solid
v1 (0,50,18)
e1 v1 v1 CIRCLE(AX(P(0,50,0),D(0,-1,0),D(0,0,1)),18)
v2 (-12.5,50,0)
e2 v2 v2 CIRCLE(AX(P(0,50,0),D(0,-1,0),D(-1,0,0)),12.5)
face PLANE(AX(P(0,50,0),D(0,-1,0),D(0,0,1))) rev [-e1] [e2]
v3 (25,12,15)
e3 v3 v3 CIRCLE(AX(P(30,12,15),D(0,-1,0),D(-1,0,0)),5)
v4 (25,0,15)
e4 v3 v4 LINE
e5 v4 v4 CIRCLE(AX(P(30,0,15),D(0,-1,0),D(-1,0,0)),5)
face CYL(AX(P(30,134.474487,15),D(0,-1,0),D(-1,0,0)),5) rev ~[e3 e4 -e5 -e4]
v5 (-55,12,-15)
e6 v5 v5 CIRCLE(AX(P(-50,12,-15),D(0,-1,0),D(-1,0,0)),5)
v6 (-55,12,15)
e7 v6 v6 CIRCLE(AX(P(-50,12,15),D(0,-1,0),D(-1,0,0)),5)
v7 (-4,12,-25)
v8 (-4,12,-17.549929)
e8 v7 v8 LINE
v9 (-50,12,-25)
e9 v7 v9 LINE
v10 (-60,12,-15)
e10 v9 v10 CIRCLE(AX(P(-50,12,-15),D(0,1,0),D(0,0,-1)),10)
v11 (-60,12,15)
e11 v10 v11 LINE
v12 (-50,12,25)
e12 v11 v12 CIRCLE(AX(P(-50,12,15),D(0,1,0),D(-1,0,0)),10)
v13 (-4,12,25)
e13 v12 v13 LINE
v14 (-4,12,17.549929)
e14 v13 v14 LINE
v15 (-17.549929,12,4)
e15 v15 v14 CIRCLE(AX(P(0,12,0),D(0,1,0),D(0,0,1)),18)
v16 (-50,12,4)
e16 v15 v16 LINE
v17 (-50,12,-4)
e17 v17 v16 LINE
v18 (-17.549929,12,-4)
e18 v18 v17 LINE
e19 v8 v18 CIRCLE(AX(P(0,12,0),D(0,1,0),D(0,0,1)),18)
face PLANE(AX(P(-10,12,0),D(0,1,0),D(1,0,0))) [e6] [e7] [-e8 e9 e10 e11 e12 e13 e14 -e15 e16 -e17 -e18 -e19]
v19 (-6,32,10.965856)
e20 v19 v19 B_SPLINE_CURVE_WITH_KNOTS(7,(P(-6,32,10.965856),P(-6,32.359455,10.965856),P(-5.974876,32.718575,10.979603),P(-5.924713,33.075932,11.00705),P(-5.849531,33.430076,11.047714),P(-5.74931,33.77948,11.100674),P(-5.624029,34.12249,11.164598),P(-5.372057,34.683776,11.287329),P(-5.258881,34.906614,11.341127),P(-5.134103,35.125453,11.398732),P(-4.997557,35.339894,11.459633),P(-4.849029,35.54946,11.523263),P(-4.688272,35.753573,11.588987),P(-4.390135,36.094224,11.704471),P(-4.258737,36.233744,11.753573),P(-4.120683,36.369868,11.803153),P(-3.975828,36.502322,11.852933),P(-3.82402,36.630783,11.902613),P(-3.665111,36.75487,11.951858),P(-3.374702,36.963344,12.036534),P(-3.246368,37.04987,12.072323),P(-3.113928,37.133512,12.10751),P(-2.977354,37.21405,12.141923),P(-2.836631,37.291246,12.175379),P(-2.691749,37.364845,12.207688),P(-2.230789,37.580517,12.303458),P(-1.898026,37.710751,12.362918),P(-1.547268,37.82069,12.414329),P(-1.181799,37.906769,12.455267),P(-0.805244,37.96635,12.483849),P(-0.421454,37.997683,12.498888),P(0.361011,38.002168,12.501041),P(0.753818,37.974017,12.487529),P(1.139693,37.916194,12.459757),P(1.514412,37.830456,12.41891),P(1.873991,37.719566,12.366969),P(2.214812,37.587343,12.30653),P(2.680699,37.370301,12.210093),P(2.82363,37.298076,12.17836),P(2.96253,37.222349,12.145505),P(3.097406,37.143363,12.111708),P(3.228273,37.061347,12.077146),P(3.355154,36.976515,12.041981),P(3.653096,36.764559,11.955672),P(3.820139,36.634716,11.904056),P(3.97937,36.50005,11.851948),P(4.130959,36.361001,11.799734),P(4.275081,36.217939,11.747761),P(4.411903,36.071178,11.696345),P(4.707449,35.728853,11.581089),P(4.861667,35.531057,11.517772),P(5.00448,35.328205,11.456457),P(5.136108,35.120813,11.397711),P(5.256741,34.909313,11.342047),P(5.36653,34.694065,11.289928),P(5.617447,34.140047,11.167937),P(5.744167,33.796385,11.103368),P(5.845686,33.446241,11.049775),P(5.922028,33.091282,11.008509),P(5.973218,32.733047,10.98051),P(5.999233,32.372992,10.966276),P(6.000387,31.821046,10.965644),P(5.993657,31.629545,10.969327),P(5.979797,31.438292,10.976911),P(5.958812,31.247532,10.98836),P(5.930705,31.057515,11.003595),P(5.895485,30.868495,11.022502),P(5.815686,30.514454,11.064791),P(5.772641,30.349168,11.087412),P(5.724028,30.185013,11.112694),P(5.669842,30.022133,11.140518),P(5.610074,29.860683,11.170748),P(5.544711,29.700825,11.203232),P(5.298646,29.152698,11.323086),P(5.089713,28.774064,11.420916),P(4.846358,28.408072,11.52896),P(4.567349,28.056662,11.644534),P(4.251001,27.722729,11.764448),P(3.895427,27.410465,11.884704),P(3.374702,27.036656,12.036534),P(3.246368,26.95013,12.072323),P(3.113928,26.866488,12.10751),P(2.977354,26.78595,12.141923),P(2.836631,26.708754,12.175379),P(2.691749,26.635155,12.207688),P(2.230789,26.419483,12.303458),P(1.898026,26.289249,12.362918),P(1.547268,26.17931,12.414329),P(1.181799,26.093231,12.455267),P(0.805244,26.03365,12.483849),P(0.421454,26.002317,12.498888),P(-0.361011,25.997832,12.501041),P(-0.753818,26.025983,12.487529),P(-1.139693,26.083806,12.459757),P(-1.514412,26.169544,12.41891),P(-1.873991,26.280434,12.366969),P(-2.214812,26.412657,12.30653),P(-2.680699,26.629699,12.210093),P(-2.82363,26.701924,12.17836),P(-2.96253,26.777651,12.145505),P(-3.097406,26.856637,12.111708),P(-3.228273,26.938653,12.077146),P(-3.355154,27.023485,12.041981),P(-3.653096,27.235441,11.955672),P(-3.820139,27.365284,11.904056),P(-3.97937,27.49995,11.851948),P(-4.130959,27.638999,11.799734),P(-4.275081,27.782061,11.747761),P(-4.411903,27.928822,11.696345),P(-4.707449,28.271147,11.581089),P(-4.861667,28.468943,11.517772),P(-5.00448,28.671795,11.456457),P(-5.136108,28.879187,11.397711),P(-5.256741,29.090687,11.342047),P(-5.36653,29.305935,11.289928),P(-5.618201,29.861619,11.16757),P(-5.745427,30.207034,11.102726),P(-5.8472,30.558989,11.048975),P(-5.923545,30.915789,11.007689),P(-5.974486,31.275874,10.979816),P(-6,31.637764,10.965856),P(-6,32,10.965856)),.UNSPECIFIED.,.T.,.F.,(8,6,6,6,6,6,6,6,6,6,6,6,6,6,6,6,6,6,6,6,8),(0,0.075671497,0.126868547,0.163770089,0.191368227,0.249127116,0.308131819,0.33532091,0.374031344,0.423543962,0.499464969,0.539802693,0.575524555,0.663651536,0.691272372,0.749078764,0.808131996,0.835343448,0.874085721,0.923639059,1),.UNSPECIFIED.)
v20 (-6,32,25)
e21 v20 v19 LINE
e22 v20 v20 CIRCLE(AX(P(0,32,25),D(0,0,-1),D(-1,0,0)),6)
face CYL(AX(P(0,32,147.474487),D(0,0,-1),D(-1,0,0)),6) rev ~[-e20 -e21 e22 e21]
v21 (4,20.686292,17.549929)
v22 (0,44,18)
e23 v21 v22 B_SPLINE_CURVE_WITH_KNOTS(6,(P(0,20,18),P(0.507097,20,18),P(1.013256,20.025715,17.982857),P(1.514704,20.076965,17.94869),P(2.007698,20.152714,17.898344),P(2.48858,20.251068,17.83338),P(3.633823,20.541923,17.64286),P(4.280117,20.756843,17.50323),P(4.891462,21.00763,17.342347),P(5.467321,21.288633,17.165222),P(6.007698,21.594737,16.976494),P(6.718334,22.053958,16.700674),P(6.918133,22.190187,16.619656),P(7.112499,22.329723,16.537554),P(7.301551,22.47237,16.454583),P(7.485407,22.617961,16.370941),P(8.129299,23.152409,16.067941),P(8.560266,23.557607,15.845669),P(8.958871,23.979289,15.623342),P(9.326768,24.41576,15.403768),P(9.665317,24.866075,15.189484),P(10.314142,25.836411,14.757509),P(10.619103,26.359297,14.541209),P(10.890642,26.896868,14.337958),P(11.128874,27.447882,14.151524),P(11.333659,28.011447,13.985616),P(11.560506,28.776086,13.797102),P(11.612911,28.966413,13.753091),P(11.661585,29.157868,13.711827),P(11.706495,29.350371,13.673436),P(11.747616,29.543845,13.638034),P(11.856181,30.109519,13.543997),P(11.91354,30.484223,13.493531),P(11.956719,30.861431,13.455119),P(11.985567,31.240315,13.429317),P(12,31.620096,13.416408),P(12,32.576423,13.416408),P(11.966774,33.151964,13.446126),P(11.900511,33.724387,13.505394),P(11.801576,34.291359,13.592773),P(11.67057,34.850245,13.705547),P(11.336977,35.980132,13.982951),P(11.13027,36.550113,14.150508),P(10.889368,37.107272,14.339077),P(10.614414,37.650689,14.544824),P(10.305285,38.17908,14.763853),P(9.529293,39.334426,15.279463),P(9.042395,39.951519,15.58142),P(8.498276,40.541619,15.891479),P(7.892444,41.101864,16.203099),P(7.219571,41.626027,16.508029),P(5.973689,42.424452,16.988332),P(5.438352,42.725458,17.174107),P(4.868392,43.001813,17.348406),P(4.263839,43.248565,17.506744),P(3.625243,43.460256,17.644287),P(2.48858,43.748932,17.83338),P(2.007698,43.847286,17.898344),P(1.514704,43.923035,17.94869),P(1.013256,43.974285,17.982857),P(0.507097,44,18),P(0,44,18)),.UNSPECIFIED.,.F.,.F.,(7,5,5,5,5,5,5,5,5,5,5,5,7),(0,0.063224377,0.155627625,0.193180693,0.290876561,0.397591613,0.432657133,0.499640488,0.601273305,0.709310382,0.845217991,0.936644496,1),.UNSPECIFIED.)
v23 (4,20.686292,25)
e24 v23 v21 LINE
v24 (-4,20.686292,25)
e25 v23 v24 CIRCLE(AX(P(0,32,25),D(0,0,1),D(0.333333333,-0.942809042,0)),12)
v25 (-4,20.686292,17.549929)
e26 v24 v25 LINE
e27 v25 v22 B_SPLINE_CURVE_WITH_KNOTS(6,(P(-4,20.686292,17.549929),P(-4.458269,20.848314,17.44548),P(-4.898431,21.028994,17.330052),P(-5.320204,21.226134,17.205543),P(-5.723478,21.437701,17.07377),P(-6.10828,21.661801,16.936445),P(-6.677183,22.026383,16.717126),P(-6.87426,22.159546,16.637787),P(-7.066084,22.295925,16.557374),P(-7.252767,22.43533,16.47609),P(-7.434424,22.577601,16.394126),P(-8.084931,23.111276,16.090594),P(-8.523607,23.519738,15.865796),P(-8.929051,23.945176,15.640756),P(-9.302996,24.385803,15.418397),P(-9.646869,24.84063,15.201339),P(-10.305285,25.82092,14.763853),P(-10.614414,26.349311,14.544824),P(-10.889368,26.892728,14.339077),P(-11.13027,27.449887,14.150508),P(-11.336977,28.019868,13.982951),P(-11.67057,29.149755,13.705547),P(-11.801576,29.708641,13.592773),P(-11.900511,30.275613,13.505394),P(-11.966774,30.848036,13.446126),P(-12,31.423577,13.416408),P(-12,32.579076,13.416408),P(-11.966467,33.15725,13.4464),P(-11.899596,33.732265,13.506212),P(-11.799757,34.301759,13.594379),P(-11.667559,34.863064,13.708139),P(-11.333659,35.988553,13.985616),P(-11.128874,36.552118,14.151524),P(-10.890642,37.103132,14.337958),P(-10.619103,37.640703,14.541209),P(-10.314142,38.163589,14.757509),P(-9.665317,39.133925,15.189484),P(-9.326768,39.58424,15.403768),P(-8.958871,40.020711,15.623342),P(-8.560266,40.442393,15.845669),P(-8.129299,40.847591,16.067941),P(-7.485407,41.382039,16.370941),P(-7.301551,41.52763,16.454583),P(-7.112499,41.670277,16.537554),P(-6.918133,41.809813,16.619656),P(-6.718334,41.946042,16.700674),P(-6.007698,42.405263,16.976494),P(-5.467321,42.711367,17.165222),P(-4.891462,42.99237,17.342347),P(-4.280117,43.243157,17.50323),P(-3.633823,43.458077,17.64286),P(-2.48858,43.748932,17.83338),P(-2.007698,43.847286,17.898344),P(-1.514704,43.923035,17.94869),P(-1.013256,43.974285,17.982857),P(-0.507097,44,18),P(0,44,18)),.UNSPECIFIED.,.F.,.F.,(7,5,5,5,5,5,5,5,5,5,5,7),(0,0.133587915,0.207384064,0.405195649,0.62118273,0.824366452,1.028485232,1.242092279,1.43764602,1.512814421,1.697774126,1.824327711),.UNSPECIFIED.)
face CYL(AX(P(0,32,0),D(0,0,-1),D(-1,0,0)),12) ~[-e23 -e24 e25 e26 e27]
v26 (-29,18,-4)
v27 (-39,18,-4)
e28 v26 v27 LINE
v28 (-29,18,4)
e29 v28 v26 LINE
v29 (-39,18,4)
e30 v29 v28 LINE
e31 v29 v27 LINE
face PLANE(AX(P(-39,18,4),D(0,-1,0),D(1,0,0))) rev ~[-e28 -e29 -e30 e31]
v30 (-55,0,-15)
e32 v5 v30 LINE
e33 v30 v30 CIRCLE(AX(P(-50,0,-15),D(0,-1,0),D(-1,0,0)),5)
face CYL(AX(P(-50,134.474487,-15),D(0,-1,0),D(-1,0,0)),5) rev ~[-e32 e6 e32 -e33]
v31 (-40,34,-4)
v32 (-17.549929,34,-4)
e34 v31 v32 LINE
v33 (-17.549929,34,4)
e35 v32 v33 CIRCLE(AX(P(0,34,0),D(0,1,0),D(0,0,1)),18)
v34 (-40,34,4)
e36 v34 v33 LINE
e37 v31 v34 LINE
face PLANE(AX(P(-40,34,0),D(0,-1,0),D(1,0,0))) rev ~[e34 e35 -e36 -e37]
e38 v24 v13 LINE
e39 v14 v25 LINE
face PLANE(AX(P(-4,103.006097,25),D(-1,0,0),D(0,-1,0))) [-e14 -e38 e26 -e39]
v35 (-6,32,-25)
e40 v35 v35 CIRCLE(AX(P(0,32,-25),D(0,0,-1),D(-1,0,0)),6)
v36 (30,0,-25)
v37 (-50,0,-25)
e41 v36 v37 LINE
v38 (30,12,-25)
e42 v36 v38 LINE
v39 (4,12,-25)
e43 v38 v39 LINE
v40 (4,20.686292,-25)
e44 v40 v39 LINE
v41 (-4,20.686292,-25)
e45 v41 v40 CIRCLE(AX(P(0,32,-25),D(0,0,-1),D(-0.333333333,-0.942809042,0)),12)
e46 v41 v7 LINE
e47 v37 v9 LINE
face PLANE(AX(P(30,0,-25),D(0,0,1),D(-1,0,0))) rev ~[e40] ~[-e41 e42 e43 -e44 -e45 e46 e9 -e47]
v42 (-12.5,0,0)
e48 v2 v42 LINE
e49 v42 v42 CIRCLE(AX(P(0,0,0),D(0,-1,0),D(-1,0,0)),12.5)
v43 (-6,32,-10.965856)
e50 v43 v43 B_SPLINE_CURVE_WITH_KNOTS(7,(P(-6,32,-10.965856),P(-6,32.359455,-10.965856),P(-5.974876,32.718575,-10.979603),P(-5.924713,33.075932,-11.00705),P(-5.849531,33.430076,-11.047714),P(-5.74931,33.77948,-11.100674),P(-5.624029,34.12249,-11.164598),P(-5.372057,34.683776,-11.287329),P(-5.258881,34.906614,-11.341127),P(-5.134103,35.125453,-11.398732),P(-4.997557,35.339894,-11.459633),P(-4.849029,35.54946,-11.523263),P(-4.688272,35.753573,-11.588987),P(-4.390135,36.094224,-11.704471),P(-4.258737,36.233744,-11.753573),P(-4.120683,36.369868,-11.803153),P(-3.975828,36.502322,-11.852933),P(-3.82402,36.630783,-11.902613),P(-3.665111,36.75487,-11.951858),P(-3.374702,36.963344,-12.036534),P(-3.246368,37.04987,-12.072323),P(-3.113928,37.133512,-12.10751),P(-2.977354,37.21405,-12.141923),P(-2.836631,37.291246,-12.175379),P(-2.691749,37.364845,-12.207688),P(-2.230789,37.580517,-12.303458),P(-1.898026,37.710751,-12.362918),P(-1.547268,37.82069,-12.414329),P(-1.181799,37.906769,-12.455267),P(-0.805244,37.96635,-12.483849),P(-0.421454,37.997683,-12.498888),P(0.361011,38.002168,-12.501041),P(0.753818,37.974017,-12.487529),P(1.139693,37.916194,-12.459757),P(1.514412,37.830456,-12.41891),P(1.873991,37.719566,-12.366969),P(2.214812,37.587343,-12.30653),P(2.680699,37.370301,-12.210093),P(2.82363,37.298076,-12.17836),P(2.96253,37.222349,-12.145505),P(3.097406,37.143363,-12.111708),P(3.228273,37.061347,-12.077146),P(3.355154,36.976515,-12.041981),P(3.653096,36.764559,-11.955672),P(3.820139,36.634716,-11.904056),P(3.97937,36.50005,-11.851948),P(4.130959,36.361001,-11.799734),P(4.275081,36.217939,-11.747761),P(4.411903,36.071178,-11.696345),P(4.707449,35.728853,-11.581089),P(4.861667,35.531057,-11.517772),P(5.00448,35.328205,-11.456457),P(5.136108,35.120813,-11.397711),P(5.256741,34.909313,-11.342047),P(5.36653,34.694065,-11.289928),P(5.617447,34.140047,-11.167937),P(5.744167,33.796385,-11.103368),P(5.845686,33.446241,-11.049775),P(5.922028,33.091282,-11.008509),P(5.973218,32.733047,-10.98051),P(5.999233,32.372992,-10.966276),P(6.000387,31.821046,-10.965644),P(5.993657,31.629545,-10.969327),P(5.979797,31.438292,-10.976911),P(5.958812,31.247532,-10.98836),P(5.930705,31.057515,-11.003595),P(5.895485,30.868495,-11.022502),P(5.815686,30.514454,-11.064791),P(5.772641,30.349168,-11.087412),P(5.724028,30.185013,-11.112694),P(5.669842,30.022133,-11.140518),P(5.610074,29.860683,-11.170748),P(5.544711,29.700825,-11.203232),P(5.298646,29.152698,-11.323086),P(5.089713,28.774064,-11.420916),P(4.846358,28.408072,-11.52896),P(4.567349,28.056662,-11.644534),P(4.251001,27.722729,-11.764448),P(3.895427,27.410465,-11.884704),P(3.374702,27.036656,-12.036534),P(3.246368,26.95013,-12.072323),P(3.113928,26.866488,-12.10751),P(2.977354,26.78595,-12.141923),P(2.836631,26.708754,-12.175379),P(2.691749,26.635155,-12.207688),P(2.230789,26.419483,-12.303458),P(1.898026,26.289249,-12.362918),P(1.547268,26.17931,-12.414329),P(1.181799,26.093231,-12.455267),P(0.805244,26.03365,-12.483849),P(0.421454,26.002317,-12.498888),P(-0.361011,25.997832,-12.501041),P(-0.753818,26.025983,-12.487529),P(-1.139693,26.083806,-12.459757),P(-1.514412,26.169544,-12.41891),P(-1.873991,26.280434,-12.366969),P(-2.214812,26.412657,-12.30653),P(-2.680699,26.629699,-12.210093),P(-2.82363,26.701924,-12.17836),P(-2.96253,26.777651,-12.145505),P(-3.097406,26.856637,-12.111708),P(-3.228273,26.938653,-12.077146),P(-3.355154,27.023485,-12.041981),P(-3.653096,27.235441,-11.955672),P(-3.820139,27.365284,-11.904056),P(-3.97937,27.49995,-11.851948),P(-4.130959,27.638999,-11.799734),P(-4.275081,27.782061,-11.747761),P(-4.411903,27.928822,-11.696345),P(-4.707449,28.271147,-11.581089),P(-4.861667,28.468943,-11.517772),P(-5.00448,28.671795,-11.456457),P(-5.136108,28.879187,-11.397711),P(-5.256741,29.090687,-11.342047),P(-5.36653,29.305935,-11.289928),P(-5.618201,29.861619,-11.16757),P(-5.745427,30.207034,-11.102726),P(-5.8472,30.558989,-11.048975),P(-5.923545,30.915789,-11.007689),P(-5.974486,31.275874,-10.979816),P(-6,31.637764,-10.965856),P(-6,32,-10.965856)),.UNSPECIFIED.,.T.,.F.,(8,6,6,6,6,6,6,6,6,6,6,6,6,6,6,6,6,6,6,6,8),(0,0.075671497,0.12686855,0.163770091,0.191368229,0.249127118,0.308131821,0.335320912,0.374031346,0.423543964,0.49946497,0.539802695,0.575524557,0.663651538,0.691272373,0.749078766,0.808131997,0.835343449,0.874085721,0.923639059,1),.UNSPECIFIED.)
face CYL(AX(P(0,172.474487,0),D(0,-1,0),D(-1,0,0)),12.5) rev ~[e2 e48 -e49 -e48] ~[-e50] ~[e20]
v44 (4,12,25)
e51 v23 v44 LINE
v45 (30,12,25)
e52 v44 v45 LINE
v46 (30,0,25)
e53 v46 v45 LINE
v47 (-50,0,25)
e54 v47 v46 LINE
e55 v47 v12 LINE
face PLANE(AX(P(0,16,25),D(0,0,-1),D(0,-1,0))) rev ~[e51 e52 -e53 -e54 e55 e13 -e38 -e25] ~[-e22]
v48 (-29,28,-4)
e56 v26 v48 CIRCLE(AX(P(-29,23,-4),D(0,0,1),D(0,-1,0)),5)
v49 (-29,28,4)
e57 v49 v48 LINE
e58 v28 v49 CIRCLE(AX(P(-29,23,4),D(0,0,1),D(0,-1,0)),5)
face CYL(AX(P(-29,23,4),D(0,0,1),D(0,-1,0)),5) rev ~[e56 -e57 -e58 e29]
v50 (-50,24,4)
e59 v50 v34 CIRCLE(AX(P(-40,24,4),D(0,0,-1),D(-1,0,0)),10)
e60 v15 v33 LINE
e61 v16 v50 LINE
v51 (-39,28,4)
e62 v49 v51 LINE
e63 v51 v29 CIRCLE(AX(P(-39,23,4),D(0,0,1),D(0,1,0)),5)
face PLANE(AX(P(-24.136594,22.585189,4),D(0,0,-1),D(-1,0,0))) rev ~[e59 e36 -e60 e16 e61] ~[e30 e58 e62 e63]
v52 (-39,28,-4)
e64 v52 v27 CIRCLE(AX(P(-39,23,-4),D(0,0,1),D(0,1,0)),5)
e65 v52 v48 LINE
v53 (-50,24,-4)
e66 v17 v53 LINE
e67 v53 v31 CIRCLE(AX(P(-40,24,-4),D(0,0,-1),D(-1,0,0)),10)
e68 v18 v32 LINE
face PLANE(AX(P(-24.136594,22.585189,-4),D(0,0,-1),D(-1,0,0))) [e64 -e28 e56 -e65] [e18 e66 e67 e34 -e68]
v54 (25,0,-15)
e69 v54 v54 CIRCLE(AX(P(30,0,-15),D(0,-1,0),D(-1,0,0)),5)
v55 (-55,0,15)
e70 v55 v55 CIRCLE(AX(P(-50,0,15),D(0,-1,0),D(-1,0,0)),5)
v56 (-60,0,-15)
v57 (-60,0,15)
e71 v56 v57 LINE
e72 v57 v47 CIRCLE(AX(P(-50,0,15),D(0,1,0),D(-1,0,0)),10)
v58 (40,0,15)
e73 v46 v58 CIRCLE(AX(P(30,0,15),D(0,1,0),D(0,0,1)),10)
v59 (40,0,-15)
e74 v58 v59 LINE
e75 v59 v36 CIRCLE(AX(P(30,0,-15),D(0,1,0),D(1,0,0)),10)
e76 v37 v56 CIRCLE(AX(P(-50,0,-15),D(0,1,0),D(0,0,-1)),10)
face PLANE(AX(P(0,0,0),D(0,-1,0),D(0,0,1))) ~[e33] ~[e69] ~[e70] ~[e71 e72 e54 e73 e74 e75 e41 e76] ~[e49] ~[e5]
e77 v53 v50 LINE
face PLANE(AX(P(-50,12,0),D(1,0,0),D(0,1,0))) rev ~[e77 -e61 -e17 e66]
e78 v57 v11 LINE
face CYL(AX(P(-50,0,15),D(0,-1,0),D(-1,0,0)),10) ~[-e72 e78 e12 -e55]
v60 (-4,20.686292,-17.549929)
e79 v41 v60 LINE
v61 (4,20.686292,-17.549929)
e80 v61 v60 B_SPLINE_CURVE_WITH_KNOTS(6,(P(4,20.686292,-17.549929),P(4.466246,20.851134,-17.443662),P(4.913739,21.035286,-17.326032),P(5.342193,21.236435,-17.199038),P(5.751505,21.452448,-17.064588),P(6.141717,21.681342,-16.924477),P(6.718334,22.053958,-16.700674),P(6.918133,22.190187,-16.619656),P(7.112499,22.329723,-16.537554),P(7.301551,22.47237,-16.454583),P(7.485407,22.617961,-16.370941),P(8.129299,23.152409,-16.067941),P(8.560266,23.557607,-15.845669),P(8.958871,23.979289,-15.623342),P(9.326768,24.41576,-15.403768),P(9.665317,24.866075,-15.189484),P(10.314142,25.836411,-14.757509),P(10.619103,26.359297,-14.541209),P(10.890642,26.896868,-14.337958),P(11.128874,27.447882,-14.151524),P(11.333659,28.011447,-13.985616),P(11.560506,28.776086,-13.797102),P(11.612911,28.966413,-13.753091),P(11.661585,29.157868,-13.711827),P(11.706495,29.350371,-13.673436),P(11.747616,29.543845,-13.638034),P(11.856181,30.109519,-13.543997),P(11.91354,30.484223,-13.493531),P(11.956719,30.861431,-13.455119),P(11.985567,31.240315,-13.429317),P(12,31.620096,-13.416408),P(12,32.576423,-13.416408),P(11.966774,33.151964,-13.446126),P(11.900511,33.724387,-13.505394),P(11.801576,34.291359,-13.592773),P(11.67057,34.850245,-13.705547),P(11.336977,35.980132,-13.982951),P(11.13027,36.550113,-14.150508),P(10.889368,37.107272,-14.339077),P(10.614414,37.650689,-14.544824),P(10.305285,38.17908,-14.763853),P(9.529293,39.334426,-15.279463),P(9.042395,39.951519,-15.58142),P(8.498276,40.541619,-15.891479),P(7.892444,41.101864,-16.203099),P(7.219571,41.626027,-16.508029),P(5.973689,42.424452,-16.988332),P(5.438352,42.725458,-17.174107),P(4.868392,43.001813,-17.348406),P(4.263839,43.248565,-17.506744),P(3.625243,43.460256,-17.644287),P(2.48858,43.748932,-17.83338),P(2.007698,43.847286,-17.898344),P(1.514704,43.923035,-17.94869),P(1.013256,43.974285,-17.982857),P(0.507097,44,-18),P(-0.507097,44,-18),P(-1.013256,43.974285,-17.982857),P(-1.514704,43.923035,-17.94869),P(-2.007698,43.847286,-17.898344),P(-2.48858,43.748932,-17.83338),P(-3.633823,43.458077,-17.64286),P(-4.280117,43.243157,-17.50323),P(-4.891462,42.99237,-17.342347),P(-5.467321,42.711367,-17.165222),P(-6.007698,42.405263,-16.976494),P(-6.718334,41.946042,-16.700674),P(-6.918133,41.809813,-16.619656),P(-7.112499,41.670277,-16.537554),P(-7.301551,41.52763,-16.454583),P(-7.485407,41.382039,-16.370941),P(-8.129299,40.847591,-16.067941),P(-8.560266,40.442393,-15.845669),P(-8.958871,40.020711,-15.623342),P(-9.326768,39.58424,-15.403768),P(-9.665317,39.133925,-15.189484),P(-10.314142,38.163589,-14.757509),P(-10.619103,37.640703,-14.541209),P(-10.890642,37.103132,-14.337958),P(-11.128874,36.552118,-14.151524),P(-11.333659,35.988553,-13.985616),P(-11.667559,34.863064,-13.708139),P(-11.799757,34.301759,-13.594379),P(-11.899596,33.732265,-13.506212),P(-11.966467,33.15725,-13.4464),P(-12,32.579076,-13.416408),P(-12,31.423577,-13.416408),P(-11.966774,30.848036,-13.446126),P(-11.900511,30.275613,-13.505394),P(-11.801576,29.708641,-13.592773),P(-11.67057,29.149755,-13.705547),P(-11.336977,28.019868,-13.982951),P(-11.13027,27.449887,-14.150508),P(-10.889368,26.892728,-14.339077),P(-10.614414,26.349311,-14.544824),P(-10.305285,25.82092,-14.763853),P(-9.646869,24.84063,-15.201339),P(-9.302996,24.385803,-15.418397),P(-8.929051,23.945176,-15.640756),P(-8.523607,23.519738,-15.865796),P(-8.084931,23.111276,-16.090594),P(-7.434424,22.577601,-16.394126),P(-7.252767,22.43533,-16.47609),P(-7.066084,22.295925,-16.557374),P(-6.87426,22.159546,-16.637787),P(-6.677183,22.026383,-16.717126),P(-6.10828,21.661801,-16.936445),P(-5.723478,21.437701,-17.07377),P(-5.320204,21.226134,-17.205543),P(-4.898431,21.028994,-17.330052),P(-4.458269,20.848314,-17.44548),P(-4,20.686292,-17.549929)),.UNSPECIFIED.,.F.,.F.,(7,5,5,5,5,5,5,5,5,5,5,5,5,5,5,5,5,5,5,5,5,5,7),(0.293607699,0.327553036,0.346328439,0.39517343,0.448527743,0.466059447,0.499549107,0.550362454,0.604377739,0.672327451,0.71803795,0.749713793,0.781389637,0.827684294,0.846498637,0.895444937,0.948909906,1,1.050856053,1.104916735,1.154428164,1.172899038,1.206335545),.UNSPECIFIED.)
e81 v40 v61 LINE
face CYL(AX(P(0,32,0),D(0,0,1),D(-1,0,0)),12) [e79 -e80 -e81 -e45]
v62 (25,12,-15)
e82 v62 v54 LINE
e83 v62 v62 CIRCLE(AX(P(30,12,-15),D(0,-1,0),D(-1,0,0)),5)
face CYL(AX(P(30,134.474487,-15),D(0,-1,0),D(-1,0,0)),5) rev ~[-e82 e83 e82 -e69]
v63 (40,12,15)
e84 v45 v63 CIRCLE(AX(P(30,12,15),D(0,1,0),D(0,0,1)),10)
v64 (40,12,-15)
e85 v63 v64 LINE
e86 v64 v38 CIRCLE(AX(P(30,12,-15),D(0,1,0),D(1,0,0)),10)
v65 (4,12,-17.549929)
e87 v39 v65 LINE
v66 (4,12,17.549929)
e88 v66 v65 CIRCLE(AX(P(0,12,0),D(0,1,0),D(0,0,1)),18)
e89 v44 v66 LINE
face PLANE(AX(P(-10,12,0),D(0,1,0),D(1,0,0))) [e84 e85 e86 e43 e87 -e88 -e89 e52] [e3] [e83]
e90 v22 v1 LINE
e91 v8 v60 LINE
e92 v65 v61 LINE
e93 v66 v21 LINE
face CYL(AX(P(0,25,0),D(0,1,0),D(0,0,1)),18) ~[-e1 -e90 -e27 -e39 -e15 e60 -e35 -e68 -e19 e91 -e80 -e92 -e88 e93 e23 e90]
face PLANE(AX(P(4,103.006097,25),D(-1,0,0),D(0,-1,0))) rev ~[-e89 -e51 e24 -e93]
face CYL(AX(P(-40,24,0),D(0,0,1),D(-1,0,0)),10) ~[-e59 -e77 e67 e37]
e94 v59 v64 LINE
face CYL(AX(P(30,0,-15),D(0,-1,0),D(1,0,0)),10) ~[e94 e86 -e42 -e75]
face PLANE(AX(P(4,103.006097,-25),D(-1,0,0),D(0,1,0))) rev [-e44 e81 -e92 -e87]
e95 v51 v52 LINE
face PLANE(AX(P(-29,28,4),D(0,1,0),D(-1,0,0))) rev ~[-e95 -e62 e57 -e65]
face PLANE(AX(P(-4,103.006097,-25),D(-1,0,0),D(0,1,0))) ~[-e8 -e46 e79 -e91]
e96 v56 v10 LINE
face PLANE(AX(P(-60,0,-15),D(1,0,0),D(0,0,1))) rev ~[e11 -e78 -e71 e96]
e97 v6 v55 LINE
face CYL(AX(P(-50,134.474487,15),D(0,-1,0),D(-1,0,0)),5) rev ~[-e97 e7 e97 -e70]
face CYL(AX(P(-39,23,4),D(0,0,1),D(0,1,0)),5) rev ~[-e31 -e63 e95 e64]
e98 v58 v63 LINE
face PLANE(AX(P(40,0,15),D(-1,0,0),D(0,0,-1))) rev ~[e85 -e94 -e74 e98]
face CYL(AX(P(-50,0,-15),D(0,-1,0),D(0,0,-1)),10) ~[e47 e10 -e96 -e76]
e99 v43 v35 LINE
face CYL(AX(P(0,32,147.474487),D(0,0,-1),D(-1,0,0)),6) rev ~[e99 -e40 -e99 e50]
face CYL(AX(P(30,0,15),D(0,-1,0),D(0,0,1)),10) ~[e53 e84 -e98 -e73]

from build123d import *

# Parameters (mm, degrees)
EXTRUDE_1_DEPTH             = 12
SKETCH_2_W                  = 18
SKETCH_2_H                  = 50
EXTRUDE_3_REACH             = 84.006
SKETCH_3_R                  = 12
EXTRUDE_3_DIRECTION_2_REACH = 84.006
EXTRUDE_4_DEPTH             = 4
RIB_1_REACH                 = 84.006
SKETCH_5_WALL_W             = 174.012194852
SKETCH_5_WALL_H             = 8
HOLE_WIZARD_10_0_10_1_D     = 10
PATTERN_LINEAR_2_COUNT      = 2
PATTERN_LINEAR_2_PITCH      = 80
PATTERN_LINEAR_2_COUNT_DIR2 = 2
PATTERN_LINEAR_2_PITCH_DIR2 = 30
CUT_EXTRUDE_1_DEPTH         = 84.312664198
HOLE_WIZARD_25_0_25_1_D     = 25
HOLE_WIZARD_12_0_12_1_D     = 12


with BuildPart() as part:
    # 草图1 → 凸台-拉伸1 (new body)
    with BuildSketch(Plane(origin=(0, 0, 0), x_dir=(1, 0, 0), z_dir=(0, 1, 0))):
        with BuildLine():
            Line((-50, -25), (30, -25))
            ThreePointArc((30, -25), (37.071067812, -22.071067812), (40, -15))
            Line((40, -15), (40, 15))
            ThreePointArc((40, 15), (37.071067812, 22.071067812), (30, 25))
            Line((30, 25), (-50, 25))
            ThreePointArc((-50, 25), (-57.071067812, 22.071067812), (-60, 15))
            Line((-60, 15), (-60, -15))
            ThreePointArc((-60, -15), (-57.071067812, -22.071067812), (-50, -25))
        make_face()
    extrude(amount=EXTRUDE_1_DEPTH)

    # 草图2 → 旋转1 (revolve)
    with BuildSketch(Plane.XY, mode=Mode.PRIVATE) as revolve_1_sk:
        with Locations((9, 25)):
            Rectangle(SKETCH_2_W, SKETCH_2_H)
    revolve(revolve_1_sk.sketch.rotate(Axis((0, 42.98545342, 0), (0, -1, 0)), 90), axis=Axis((0, 42.98545342, 0), (0, -1, 0)))

    # 凸台-拉伸3: up to this face of the body (flat: up to its plane)
    extrude_3_end = Plane(part.part.faces().sort_by_distance((-10, 6, 25))[0])
    # 草图3 → 凸台-拉伸3 (add, up to the picked face)
    with BuildSketch(Plane.XY, mode=Mode.PRIVATE) as extrude_3_sk1:
        with Locations(Location((0, 32, 0), (0, 0, 180))):
            Circle(SKETCH_3_R)
    extrude_3_tool1 = split(extrude(extrude_3_sk1.sketch, amount=EXTRUDE_3_REACH, mode=Mode.PRIVATE), bisect_by=extrude_3_end, keep=Keep.BOTH, mode=Mode.PRIVATE)
    add(extrude_3_tool1.solids().sort_by(Axis((0, 32, 0), (0, 0, 1)))[0])

    # 凸台-拉伸3 direction 2: up to this face of the body (flat: up to its plane)
    extrude_3_direction_2_end = Plane(part.part.faces().sort_by_distance((-10, 6, -25))[0])
    # 草图3 → 凸台-拉伸3 direction 2 (add, up to the picked face)
    with BuildSketch(Plane.XY, mode=Mode.PRIVATE) as extrude_3_direction_2_sk1:
        with Locations(Location((0, 32, 0), (0, 0, 180))):
            Circle(SKETCH_3_R)
    extrude_3_direction_2_tool1 = split(extrude(extrude_3_direction_2_sk1.sketch, amount=-EXTRUDE_3_DIRECTION_2_REACH, mode=Mode.PRIVATE), bisect_by=extrude_3_direction_2_end, keep=Keep.BOTH, mode=Mode.PRIVATE)
    add(extrude_3_direction_2_tool1.solids().sort_by(Axis((0, 32, 0), (0, 0, -1)))[0])

    # 草图4 → 凸台-拉伸4 (add, symmetric)
    with BuildSketch(Plane.XY):
        with BuildLine():
            Line((-40, 34), (0, 34))
            Line((0, 34), (0, 12))
            Line((0, 12), (-50, 12))
            Line((-50, 12), (-50, 24))
            ThreePointArc((-50, 24), (-47.071067812, 31.071067812), (-40, 34))
        make_face()
    extrude(amount=EXTRUDE_4_DEPTH, both=True)

    # 草图5 wall → 筋1 (add, up to next)
    with BuildSketch(Plane(origin=(0, 16, 25), x_dir=(0, -1, 0), z_dir=(0, 0, -1)), mode=Mode.PRIVATE) as rib_1_sk1:
        Rectangle(SKETCH_5_WALL_W, SKETCH_5_WALL_H)
    rib_1_tool1 = extrude(rib_1_sk1.sketch, amount=RIB_1_REACH, mode=Mode.PRIVATE) - part.part
    rib_1 = rib_1_tool1.solids().sort_by_distance((0, 16, 25))[0]
    add(rib_1)

    # 镜向1: 筋1 across plane
    add(rib_1.mirror(Plane.XY))

    # Ø10.0 (10) 直径孔1 (through all)
    with Locations(Plane(origin=(0, 12, 0), x_dir=(1, 0, 0), z_dir=(0, 1, 0))):
        with Locations((-50, -15)):
            hole_wizard_10_0_10_1 = Hole(HOLE_WIZARD_10_0_10_1_D / 2)

    # 阵列(线性)2: Hole Wizard 10.0 _10_ _1 2 × 2
    with Locations(*[(i * PATTERN_LINEAR_2_PITCH, 0, -j * PATTERN_LINEAR_2_PITCH_DIR2) for i in range(PATTERN_LINEAR_2_COUNT) for j in range(PATTERN_LINEAR_2_COUNT_DIR2) if (i, j) != (0, 0)]):
        add(hole_wizard_10_0_10_1, mode=Mode.SUBTRACT)

    # 草图8 → 切除-拉伸1 (cut, through all)
    with BuildSketch(Plane.XY.offset(4)):
        with BuildLine():
            Line((-39, 18), (-29, 18))
            ThreePointArc((-29, 18), (-24, 23), (-29, 28))
            Line((-29, 28), (-39, 28))
            ThreePointArc((-39, 28), (-44, 23), (-39, 18))
        make_face()
    extrude(amount=-CUT_EXTRUDE_1_DEPTH, mode=Mode.SUBTRACT)

    # Ø25.0 (25) 直径孔1 (through all)
    with Locations(Plane(origin=(0, 50, 0), x_dir=(1, 0, 0), z_dir=(0, 1, 0))):
        with Locations((0, 0)):
            Hole(HOLE_WIZARD_25_0_25_1_D / 2)

    # Ø12.0 (12) 直径孔1 (through all)
    with Locations(Plane.XY.offset(25)):
        with Locations((0, 32)):
            Hole(HOLE_WIZARD_12_0_12_1_D / 2)


solid = part.part
